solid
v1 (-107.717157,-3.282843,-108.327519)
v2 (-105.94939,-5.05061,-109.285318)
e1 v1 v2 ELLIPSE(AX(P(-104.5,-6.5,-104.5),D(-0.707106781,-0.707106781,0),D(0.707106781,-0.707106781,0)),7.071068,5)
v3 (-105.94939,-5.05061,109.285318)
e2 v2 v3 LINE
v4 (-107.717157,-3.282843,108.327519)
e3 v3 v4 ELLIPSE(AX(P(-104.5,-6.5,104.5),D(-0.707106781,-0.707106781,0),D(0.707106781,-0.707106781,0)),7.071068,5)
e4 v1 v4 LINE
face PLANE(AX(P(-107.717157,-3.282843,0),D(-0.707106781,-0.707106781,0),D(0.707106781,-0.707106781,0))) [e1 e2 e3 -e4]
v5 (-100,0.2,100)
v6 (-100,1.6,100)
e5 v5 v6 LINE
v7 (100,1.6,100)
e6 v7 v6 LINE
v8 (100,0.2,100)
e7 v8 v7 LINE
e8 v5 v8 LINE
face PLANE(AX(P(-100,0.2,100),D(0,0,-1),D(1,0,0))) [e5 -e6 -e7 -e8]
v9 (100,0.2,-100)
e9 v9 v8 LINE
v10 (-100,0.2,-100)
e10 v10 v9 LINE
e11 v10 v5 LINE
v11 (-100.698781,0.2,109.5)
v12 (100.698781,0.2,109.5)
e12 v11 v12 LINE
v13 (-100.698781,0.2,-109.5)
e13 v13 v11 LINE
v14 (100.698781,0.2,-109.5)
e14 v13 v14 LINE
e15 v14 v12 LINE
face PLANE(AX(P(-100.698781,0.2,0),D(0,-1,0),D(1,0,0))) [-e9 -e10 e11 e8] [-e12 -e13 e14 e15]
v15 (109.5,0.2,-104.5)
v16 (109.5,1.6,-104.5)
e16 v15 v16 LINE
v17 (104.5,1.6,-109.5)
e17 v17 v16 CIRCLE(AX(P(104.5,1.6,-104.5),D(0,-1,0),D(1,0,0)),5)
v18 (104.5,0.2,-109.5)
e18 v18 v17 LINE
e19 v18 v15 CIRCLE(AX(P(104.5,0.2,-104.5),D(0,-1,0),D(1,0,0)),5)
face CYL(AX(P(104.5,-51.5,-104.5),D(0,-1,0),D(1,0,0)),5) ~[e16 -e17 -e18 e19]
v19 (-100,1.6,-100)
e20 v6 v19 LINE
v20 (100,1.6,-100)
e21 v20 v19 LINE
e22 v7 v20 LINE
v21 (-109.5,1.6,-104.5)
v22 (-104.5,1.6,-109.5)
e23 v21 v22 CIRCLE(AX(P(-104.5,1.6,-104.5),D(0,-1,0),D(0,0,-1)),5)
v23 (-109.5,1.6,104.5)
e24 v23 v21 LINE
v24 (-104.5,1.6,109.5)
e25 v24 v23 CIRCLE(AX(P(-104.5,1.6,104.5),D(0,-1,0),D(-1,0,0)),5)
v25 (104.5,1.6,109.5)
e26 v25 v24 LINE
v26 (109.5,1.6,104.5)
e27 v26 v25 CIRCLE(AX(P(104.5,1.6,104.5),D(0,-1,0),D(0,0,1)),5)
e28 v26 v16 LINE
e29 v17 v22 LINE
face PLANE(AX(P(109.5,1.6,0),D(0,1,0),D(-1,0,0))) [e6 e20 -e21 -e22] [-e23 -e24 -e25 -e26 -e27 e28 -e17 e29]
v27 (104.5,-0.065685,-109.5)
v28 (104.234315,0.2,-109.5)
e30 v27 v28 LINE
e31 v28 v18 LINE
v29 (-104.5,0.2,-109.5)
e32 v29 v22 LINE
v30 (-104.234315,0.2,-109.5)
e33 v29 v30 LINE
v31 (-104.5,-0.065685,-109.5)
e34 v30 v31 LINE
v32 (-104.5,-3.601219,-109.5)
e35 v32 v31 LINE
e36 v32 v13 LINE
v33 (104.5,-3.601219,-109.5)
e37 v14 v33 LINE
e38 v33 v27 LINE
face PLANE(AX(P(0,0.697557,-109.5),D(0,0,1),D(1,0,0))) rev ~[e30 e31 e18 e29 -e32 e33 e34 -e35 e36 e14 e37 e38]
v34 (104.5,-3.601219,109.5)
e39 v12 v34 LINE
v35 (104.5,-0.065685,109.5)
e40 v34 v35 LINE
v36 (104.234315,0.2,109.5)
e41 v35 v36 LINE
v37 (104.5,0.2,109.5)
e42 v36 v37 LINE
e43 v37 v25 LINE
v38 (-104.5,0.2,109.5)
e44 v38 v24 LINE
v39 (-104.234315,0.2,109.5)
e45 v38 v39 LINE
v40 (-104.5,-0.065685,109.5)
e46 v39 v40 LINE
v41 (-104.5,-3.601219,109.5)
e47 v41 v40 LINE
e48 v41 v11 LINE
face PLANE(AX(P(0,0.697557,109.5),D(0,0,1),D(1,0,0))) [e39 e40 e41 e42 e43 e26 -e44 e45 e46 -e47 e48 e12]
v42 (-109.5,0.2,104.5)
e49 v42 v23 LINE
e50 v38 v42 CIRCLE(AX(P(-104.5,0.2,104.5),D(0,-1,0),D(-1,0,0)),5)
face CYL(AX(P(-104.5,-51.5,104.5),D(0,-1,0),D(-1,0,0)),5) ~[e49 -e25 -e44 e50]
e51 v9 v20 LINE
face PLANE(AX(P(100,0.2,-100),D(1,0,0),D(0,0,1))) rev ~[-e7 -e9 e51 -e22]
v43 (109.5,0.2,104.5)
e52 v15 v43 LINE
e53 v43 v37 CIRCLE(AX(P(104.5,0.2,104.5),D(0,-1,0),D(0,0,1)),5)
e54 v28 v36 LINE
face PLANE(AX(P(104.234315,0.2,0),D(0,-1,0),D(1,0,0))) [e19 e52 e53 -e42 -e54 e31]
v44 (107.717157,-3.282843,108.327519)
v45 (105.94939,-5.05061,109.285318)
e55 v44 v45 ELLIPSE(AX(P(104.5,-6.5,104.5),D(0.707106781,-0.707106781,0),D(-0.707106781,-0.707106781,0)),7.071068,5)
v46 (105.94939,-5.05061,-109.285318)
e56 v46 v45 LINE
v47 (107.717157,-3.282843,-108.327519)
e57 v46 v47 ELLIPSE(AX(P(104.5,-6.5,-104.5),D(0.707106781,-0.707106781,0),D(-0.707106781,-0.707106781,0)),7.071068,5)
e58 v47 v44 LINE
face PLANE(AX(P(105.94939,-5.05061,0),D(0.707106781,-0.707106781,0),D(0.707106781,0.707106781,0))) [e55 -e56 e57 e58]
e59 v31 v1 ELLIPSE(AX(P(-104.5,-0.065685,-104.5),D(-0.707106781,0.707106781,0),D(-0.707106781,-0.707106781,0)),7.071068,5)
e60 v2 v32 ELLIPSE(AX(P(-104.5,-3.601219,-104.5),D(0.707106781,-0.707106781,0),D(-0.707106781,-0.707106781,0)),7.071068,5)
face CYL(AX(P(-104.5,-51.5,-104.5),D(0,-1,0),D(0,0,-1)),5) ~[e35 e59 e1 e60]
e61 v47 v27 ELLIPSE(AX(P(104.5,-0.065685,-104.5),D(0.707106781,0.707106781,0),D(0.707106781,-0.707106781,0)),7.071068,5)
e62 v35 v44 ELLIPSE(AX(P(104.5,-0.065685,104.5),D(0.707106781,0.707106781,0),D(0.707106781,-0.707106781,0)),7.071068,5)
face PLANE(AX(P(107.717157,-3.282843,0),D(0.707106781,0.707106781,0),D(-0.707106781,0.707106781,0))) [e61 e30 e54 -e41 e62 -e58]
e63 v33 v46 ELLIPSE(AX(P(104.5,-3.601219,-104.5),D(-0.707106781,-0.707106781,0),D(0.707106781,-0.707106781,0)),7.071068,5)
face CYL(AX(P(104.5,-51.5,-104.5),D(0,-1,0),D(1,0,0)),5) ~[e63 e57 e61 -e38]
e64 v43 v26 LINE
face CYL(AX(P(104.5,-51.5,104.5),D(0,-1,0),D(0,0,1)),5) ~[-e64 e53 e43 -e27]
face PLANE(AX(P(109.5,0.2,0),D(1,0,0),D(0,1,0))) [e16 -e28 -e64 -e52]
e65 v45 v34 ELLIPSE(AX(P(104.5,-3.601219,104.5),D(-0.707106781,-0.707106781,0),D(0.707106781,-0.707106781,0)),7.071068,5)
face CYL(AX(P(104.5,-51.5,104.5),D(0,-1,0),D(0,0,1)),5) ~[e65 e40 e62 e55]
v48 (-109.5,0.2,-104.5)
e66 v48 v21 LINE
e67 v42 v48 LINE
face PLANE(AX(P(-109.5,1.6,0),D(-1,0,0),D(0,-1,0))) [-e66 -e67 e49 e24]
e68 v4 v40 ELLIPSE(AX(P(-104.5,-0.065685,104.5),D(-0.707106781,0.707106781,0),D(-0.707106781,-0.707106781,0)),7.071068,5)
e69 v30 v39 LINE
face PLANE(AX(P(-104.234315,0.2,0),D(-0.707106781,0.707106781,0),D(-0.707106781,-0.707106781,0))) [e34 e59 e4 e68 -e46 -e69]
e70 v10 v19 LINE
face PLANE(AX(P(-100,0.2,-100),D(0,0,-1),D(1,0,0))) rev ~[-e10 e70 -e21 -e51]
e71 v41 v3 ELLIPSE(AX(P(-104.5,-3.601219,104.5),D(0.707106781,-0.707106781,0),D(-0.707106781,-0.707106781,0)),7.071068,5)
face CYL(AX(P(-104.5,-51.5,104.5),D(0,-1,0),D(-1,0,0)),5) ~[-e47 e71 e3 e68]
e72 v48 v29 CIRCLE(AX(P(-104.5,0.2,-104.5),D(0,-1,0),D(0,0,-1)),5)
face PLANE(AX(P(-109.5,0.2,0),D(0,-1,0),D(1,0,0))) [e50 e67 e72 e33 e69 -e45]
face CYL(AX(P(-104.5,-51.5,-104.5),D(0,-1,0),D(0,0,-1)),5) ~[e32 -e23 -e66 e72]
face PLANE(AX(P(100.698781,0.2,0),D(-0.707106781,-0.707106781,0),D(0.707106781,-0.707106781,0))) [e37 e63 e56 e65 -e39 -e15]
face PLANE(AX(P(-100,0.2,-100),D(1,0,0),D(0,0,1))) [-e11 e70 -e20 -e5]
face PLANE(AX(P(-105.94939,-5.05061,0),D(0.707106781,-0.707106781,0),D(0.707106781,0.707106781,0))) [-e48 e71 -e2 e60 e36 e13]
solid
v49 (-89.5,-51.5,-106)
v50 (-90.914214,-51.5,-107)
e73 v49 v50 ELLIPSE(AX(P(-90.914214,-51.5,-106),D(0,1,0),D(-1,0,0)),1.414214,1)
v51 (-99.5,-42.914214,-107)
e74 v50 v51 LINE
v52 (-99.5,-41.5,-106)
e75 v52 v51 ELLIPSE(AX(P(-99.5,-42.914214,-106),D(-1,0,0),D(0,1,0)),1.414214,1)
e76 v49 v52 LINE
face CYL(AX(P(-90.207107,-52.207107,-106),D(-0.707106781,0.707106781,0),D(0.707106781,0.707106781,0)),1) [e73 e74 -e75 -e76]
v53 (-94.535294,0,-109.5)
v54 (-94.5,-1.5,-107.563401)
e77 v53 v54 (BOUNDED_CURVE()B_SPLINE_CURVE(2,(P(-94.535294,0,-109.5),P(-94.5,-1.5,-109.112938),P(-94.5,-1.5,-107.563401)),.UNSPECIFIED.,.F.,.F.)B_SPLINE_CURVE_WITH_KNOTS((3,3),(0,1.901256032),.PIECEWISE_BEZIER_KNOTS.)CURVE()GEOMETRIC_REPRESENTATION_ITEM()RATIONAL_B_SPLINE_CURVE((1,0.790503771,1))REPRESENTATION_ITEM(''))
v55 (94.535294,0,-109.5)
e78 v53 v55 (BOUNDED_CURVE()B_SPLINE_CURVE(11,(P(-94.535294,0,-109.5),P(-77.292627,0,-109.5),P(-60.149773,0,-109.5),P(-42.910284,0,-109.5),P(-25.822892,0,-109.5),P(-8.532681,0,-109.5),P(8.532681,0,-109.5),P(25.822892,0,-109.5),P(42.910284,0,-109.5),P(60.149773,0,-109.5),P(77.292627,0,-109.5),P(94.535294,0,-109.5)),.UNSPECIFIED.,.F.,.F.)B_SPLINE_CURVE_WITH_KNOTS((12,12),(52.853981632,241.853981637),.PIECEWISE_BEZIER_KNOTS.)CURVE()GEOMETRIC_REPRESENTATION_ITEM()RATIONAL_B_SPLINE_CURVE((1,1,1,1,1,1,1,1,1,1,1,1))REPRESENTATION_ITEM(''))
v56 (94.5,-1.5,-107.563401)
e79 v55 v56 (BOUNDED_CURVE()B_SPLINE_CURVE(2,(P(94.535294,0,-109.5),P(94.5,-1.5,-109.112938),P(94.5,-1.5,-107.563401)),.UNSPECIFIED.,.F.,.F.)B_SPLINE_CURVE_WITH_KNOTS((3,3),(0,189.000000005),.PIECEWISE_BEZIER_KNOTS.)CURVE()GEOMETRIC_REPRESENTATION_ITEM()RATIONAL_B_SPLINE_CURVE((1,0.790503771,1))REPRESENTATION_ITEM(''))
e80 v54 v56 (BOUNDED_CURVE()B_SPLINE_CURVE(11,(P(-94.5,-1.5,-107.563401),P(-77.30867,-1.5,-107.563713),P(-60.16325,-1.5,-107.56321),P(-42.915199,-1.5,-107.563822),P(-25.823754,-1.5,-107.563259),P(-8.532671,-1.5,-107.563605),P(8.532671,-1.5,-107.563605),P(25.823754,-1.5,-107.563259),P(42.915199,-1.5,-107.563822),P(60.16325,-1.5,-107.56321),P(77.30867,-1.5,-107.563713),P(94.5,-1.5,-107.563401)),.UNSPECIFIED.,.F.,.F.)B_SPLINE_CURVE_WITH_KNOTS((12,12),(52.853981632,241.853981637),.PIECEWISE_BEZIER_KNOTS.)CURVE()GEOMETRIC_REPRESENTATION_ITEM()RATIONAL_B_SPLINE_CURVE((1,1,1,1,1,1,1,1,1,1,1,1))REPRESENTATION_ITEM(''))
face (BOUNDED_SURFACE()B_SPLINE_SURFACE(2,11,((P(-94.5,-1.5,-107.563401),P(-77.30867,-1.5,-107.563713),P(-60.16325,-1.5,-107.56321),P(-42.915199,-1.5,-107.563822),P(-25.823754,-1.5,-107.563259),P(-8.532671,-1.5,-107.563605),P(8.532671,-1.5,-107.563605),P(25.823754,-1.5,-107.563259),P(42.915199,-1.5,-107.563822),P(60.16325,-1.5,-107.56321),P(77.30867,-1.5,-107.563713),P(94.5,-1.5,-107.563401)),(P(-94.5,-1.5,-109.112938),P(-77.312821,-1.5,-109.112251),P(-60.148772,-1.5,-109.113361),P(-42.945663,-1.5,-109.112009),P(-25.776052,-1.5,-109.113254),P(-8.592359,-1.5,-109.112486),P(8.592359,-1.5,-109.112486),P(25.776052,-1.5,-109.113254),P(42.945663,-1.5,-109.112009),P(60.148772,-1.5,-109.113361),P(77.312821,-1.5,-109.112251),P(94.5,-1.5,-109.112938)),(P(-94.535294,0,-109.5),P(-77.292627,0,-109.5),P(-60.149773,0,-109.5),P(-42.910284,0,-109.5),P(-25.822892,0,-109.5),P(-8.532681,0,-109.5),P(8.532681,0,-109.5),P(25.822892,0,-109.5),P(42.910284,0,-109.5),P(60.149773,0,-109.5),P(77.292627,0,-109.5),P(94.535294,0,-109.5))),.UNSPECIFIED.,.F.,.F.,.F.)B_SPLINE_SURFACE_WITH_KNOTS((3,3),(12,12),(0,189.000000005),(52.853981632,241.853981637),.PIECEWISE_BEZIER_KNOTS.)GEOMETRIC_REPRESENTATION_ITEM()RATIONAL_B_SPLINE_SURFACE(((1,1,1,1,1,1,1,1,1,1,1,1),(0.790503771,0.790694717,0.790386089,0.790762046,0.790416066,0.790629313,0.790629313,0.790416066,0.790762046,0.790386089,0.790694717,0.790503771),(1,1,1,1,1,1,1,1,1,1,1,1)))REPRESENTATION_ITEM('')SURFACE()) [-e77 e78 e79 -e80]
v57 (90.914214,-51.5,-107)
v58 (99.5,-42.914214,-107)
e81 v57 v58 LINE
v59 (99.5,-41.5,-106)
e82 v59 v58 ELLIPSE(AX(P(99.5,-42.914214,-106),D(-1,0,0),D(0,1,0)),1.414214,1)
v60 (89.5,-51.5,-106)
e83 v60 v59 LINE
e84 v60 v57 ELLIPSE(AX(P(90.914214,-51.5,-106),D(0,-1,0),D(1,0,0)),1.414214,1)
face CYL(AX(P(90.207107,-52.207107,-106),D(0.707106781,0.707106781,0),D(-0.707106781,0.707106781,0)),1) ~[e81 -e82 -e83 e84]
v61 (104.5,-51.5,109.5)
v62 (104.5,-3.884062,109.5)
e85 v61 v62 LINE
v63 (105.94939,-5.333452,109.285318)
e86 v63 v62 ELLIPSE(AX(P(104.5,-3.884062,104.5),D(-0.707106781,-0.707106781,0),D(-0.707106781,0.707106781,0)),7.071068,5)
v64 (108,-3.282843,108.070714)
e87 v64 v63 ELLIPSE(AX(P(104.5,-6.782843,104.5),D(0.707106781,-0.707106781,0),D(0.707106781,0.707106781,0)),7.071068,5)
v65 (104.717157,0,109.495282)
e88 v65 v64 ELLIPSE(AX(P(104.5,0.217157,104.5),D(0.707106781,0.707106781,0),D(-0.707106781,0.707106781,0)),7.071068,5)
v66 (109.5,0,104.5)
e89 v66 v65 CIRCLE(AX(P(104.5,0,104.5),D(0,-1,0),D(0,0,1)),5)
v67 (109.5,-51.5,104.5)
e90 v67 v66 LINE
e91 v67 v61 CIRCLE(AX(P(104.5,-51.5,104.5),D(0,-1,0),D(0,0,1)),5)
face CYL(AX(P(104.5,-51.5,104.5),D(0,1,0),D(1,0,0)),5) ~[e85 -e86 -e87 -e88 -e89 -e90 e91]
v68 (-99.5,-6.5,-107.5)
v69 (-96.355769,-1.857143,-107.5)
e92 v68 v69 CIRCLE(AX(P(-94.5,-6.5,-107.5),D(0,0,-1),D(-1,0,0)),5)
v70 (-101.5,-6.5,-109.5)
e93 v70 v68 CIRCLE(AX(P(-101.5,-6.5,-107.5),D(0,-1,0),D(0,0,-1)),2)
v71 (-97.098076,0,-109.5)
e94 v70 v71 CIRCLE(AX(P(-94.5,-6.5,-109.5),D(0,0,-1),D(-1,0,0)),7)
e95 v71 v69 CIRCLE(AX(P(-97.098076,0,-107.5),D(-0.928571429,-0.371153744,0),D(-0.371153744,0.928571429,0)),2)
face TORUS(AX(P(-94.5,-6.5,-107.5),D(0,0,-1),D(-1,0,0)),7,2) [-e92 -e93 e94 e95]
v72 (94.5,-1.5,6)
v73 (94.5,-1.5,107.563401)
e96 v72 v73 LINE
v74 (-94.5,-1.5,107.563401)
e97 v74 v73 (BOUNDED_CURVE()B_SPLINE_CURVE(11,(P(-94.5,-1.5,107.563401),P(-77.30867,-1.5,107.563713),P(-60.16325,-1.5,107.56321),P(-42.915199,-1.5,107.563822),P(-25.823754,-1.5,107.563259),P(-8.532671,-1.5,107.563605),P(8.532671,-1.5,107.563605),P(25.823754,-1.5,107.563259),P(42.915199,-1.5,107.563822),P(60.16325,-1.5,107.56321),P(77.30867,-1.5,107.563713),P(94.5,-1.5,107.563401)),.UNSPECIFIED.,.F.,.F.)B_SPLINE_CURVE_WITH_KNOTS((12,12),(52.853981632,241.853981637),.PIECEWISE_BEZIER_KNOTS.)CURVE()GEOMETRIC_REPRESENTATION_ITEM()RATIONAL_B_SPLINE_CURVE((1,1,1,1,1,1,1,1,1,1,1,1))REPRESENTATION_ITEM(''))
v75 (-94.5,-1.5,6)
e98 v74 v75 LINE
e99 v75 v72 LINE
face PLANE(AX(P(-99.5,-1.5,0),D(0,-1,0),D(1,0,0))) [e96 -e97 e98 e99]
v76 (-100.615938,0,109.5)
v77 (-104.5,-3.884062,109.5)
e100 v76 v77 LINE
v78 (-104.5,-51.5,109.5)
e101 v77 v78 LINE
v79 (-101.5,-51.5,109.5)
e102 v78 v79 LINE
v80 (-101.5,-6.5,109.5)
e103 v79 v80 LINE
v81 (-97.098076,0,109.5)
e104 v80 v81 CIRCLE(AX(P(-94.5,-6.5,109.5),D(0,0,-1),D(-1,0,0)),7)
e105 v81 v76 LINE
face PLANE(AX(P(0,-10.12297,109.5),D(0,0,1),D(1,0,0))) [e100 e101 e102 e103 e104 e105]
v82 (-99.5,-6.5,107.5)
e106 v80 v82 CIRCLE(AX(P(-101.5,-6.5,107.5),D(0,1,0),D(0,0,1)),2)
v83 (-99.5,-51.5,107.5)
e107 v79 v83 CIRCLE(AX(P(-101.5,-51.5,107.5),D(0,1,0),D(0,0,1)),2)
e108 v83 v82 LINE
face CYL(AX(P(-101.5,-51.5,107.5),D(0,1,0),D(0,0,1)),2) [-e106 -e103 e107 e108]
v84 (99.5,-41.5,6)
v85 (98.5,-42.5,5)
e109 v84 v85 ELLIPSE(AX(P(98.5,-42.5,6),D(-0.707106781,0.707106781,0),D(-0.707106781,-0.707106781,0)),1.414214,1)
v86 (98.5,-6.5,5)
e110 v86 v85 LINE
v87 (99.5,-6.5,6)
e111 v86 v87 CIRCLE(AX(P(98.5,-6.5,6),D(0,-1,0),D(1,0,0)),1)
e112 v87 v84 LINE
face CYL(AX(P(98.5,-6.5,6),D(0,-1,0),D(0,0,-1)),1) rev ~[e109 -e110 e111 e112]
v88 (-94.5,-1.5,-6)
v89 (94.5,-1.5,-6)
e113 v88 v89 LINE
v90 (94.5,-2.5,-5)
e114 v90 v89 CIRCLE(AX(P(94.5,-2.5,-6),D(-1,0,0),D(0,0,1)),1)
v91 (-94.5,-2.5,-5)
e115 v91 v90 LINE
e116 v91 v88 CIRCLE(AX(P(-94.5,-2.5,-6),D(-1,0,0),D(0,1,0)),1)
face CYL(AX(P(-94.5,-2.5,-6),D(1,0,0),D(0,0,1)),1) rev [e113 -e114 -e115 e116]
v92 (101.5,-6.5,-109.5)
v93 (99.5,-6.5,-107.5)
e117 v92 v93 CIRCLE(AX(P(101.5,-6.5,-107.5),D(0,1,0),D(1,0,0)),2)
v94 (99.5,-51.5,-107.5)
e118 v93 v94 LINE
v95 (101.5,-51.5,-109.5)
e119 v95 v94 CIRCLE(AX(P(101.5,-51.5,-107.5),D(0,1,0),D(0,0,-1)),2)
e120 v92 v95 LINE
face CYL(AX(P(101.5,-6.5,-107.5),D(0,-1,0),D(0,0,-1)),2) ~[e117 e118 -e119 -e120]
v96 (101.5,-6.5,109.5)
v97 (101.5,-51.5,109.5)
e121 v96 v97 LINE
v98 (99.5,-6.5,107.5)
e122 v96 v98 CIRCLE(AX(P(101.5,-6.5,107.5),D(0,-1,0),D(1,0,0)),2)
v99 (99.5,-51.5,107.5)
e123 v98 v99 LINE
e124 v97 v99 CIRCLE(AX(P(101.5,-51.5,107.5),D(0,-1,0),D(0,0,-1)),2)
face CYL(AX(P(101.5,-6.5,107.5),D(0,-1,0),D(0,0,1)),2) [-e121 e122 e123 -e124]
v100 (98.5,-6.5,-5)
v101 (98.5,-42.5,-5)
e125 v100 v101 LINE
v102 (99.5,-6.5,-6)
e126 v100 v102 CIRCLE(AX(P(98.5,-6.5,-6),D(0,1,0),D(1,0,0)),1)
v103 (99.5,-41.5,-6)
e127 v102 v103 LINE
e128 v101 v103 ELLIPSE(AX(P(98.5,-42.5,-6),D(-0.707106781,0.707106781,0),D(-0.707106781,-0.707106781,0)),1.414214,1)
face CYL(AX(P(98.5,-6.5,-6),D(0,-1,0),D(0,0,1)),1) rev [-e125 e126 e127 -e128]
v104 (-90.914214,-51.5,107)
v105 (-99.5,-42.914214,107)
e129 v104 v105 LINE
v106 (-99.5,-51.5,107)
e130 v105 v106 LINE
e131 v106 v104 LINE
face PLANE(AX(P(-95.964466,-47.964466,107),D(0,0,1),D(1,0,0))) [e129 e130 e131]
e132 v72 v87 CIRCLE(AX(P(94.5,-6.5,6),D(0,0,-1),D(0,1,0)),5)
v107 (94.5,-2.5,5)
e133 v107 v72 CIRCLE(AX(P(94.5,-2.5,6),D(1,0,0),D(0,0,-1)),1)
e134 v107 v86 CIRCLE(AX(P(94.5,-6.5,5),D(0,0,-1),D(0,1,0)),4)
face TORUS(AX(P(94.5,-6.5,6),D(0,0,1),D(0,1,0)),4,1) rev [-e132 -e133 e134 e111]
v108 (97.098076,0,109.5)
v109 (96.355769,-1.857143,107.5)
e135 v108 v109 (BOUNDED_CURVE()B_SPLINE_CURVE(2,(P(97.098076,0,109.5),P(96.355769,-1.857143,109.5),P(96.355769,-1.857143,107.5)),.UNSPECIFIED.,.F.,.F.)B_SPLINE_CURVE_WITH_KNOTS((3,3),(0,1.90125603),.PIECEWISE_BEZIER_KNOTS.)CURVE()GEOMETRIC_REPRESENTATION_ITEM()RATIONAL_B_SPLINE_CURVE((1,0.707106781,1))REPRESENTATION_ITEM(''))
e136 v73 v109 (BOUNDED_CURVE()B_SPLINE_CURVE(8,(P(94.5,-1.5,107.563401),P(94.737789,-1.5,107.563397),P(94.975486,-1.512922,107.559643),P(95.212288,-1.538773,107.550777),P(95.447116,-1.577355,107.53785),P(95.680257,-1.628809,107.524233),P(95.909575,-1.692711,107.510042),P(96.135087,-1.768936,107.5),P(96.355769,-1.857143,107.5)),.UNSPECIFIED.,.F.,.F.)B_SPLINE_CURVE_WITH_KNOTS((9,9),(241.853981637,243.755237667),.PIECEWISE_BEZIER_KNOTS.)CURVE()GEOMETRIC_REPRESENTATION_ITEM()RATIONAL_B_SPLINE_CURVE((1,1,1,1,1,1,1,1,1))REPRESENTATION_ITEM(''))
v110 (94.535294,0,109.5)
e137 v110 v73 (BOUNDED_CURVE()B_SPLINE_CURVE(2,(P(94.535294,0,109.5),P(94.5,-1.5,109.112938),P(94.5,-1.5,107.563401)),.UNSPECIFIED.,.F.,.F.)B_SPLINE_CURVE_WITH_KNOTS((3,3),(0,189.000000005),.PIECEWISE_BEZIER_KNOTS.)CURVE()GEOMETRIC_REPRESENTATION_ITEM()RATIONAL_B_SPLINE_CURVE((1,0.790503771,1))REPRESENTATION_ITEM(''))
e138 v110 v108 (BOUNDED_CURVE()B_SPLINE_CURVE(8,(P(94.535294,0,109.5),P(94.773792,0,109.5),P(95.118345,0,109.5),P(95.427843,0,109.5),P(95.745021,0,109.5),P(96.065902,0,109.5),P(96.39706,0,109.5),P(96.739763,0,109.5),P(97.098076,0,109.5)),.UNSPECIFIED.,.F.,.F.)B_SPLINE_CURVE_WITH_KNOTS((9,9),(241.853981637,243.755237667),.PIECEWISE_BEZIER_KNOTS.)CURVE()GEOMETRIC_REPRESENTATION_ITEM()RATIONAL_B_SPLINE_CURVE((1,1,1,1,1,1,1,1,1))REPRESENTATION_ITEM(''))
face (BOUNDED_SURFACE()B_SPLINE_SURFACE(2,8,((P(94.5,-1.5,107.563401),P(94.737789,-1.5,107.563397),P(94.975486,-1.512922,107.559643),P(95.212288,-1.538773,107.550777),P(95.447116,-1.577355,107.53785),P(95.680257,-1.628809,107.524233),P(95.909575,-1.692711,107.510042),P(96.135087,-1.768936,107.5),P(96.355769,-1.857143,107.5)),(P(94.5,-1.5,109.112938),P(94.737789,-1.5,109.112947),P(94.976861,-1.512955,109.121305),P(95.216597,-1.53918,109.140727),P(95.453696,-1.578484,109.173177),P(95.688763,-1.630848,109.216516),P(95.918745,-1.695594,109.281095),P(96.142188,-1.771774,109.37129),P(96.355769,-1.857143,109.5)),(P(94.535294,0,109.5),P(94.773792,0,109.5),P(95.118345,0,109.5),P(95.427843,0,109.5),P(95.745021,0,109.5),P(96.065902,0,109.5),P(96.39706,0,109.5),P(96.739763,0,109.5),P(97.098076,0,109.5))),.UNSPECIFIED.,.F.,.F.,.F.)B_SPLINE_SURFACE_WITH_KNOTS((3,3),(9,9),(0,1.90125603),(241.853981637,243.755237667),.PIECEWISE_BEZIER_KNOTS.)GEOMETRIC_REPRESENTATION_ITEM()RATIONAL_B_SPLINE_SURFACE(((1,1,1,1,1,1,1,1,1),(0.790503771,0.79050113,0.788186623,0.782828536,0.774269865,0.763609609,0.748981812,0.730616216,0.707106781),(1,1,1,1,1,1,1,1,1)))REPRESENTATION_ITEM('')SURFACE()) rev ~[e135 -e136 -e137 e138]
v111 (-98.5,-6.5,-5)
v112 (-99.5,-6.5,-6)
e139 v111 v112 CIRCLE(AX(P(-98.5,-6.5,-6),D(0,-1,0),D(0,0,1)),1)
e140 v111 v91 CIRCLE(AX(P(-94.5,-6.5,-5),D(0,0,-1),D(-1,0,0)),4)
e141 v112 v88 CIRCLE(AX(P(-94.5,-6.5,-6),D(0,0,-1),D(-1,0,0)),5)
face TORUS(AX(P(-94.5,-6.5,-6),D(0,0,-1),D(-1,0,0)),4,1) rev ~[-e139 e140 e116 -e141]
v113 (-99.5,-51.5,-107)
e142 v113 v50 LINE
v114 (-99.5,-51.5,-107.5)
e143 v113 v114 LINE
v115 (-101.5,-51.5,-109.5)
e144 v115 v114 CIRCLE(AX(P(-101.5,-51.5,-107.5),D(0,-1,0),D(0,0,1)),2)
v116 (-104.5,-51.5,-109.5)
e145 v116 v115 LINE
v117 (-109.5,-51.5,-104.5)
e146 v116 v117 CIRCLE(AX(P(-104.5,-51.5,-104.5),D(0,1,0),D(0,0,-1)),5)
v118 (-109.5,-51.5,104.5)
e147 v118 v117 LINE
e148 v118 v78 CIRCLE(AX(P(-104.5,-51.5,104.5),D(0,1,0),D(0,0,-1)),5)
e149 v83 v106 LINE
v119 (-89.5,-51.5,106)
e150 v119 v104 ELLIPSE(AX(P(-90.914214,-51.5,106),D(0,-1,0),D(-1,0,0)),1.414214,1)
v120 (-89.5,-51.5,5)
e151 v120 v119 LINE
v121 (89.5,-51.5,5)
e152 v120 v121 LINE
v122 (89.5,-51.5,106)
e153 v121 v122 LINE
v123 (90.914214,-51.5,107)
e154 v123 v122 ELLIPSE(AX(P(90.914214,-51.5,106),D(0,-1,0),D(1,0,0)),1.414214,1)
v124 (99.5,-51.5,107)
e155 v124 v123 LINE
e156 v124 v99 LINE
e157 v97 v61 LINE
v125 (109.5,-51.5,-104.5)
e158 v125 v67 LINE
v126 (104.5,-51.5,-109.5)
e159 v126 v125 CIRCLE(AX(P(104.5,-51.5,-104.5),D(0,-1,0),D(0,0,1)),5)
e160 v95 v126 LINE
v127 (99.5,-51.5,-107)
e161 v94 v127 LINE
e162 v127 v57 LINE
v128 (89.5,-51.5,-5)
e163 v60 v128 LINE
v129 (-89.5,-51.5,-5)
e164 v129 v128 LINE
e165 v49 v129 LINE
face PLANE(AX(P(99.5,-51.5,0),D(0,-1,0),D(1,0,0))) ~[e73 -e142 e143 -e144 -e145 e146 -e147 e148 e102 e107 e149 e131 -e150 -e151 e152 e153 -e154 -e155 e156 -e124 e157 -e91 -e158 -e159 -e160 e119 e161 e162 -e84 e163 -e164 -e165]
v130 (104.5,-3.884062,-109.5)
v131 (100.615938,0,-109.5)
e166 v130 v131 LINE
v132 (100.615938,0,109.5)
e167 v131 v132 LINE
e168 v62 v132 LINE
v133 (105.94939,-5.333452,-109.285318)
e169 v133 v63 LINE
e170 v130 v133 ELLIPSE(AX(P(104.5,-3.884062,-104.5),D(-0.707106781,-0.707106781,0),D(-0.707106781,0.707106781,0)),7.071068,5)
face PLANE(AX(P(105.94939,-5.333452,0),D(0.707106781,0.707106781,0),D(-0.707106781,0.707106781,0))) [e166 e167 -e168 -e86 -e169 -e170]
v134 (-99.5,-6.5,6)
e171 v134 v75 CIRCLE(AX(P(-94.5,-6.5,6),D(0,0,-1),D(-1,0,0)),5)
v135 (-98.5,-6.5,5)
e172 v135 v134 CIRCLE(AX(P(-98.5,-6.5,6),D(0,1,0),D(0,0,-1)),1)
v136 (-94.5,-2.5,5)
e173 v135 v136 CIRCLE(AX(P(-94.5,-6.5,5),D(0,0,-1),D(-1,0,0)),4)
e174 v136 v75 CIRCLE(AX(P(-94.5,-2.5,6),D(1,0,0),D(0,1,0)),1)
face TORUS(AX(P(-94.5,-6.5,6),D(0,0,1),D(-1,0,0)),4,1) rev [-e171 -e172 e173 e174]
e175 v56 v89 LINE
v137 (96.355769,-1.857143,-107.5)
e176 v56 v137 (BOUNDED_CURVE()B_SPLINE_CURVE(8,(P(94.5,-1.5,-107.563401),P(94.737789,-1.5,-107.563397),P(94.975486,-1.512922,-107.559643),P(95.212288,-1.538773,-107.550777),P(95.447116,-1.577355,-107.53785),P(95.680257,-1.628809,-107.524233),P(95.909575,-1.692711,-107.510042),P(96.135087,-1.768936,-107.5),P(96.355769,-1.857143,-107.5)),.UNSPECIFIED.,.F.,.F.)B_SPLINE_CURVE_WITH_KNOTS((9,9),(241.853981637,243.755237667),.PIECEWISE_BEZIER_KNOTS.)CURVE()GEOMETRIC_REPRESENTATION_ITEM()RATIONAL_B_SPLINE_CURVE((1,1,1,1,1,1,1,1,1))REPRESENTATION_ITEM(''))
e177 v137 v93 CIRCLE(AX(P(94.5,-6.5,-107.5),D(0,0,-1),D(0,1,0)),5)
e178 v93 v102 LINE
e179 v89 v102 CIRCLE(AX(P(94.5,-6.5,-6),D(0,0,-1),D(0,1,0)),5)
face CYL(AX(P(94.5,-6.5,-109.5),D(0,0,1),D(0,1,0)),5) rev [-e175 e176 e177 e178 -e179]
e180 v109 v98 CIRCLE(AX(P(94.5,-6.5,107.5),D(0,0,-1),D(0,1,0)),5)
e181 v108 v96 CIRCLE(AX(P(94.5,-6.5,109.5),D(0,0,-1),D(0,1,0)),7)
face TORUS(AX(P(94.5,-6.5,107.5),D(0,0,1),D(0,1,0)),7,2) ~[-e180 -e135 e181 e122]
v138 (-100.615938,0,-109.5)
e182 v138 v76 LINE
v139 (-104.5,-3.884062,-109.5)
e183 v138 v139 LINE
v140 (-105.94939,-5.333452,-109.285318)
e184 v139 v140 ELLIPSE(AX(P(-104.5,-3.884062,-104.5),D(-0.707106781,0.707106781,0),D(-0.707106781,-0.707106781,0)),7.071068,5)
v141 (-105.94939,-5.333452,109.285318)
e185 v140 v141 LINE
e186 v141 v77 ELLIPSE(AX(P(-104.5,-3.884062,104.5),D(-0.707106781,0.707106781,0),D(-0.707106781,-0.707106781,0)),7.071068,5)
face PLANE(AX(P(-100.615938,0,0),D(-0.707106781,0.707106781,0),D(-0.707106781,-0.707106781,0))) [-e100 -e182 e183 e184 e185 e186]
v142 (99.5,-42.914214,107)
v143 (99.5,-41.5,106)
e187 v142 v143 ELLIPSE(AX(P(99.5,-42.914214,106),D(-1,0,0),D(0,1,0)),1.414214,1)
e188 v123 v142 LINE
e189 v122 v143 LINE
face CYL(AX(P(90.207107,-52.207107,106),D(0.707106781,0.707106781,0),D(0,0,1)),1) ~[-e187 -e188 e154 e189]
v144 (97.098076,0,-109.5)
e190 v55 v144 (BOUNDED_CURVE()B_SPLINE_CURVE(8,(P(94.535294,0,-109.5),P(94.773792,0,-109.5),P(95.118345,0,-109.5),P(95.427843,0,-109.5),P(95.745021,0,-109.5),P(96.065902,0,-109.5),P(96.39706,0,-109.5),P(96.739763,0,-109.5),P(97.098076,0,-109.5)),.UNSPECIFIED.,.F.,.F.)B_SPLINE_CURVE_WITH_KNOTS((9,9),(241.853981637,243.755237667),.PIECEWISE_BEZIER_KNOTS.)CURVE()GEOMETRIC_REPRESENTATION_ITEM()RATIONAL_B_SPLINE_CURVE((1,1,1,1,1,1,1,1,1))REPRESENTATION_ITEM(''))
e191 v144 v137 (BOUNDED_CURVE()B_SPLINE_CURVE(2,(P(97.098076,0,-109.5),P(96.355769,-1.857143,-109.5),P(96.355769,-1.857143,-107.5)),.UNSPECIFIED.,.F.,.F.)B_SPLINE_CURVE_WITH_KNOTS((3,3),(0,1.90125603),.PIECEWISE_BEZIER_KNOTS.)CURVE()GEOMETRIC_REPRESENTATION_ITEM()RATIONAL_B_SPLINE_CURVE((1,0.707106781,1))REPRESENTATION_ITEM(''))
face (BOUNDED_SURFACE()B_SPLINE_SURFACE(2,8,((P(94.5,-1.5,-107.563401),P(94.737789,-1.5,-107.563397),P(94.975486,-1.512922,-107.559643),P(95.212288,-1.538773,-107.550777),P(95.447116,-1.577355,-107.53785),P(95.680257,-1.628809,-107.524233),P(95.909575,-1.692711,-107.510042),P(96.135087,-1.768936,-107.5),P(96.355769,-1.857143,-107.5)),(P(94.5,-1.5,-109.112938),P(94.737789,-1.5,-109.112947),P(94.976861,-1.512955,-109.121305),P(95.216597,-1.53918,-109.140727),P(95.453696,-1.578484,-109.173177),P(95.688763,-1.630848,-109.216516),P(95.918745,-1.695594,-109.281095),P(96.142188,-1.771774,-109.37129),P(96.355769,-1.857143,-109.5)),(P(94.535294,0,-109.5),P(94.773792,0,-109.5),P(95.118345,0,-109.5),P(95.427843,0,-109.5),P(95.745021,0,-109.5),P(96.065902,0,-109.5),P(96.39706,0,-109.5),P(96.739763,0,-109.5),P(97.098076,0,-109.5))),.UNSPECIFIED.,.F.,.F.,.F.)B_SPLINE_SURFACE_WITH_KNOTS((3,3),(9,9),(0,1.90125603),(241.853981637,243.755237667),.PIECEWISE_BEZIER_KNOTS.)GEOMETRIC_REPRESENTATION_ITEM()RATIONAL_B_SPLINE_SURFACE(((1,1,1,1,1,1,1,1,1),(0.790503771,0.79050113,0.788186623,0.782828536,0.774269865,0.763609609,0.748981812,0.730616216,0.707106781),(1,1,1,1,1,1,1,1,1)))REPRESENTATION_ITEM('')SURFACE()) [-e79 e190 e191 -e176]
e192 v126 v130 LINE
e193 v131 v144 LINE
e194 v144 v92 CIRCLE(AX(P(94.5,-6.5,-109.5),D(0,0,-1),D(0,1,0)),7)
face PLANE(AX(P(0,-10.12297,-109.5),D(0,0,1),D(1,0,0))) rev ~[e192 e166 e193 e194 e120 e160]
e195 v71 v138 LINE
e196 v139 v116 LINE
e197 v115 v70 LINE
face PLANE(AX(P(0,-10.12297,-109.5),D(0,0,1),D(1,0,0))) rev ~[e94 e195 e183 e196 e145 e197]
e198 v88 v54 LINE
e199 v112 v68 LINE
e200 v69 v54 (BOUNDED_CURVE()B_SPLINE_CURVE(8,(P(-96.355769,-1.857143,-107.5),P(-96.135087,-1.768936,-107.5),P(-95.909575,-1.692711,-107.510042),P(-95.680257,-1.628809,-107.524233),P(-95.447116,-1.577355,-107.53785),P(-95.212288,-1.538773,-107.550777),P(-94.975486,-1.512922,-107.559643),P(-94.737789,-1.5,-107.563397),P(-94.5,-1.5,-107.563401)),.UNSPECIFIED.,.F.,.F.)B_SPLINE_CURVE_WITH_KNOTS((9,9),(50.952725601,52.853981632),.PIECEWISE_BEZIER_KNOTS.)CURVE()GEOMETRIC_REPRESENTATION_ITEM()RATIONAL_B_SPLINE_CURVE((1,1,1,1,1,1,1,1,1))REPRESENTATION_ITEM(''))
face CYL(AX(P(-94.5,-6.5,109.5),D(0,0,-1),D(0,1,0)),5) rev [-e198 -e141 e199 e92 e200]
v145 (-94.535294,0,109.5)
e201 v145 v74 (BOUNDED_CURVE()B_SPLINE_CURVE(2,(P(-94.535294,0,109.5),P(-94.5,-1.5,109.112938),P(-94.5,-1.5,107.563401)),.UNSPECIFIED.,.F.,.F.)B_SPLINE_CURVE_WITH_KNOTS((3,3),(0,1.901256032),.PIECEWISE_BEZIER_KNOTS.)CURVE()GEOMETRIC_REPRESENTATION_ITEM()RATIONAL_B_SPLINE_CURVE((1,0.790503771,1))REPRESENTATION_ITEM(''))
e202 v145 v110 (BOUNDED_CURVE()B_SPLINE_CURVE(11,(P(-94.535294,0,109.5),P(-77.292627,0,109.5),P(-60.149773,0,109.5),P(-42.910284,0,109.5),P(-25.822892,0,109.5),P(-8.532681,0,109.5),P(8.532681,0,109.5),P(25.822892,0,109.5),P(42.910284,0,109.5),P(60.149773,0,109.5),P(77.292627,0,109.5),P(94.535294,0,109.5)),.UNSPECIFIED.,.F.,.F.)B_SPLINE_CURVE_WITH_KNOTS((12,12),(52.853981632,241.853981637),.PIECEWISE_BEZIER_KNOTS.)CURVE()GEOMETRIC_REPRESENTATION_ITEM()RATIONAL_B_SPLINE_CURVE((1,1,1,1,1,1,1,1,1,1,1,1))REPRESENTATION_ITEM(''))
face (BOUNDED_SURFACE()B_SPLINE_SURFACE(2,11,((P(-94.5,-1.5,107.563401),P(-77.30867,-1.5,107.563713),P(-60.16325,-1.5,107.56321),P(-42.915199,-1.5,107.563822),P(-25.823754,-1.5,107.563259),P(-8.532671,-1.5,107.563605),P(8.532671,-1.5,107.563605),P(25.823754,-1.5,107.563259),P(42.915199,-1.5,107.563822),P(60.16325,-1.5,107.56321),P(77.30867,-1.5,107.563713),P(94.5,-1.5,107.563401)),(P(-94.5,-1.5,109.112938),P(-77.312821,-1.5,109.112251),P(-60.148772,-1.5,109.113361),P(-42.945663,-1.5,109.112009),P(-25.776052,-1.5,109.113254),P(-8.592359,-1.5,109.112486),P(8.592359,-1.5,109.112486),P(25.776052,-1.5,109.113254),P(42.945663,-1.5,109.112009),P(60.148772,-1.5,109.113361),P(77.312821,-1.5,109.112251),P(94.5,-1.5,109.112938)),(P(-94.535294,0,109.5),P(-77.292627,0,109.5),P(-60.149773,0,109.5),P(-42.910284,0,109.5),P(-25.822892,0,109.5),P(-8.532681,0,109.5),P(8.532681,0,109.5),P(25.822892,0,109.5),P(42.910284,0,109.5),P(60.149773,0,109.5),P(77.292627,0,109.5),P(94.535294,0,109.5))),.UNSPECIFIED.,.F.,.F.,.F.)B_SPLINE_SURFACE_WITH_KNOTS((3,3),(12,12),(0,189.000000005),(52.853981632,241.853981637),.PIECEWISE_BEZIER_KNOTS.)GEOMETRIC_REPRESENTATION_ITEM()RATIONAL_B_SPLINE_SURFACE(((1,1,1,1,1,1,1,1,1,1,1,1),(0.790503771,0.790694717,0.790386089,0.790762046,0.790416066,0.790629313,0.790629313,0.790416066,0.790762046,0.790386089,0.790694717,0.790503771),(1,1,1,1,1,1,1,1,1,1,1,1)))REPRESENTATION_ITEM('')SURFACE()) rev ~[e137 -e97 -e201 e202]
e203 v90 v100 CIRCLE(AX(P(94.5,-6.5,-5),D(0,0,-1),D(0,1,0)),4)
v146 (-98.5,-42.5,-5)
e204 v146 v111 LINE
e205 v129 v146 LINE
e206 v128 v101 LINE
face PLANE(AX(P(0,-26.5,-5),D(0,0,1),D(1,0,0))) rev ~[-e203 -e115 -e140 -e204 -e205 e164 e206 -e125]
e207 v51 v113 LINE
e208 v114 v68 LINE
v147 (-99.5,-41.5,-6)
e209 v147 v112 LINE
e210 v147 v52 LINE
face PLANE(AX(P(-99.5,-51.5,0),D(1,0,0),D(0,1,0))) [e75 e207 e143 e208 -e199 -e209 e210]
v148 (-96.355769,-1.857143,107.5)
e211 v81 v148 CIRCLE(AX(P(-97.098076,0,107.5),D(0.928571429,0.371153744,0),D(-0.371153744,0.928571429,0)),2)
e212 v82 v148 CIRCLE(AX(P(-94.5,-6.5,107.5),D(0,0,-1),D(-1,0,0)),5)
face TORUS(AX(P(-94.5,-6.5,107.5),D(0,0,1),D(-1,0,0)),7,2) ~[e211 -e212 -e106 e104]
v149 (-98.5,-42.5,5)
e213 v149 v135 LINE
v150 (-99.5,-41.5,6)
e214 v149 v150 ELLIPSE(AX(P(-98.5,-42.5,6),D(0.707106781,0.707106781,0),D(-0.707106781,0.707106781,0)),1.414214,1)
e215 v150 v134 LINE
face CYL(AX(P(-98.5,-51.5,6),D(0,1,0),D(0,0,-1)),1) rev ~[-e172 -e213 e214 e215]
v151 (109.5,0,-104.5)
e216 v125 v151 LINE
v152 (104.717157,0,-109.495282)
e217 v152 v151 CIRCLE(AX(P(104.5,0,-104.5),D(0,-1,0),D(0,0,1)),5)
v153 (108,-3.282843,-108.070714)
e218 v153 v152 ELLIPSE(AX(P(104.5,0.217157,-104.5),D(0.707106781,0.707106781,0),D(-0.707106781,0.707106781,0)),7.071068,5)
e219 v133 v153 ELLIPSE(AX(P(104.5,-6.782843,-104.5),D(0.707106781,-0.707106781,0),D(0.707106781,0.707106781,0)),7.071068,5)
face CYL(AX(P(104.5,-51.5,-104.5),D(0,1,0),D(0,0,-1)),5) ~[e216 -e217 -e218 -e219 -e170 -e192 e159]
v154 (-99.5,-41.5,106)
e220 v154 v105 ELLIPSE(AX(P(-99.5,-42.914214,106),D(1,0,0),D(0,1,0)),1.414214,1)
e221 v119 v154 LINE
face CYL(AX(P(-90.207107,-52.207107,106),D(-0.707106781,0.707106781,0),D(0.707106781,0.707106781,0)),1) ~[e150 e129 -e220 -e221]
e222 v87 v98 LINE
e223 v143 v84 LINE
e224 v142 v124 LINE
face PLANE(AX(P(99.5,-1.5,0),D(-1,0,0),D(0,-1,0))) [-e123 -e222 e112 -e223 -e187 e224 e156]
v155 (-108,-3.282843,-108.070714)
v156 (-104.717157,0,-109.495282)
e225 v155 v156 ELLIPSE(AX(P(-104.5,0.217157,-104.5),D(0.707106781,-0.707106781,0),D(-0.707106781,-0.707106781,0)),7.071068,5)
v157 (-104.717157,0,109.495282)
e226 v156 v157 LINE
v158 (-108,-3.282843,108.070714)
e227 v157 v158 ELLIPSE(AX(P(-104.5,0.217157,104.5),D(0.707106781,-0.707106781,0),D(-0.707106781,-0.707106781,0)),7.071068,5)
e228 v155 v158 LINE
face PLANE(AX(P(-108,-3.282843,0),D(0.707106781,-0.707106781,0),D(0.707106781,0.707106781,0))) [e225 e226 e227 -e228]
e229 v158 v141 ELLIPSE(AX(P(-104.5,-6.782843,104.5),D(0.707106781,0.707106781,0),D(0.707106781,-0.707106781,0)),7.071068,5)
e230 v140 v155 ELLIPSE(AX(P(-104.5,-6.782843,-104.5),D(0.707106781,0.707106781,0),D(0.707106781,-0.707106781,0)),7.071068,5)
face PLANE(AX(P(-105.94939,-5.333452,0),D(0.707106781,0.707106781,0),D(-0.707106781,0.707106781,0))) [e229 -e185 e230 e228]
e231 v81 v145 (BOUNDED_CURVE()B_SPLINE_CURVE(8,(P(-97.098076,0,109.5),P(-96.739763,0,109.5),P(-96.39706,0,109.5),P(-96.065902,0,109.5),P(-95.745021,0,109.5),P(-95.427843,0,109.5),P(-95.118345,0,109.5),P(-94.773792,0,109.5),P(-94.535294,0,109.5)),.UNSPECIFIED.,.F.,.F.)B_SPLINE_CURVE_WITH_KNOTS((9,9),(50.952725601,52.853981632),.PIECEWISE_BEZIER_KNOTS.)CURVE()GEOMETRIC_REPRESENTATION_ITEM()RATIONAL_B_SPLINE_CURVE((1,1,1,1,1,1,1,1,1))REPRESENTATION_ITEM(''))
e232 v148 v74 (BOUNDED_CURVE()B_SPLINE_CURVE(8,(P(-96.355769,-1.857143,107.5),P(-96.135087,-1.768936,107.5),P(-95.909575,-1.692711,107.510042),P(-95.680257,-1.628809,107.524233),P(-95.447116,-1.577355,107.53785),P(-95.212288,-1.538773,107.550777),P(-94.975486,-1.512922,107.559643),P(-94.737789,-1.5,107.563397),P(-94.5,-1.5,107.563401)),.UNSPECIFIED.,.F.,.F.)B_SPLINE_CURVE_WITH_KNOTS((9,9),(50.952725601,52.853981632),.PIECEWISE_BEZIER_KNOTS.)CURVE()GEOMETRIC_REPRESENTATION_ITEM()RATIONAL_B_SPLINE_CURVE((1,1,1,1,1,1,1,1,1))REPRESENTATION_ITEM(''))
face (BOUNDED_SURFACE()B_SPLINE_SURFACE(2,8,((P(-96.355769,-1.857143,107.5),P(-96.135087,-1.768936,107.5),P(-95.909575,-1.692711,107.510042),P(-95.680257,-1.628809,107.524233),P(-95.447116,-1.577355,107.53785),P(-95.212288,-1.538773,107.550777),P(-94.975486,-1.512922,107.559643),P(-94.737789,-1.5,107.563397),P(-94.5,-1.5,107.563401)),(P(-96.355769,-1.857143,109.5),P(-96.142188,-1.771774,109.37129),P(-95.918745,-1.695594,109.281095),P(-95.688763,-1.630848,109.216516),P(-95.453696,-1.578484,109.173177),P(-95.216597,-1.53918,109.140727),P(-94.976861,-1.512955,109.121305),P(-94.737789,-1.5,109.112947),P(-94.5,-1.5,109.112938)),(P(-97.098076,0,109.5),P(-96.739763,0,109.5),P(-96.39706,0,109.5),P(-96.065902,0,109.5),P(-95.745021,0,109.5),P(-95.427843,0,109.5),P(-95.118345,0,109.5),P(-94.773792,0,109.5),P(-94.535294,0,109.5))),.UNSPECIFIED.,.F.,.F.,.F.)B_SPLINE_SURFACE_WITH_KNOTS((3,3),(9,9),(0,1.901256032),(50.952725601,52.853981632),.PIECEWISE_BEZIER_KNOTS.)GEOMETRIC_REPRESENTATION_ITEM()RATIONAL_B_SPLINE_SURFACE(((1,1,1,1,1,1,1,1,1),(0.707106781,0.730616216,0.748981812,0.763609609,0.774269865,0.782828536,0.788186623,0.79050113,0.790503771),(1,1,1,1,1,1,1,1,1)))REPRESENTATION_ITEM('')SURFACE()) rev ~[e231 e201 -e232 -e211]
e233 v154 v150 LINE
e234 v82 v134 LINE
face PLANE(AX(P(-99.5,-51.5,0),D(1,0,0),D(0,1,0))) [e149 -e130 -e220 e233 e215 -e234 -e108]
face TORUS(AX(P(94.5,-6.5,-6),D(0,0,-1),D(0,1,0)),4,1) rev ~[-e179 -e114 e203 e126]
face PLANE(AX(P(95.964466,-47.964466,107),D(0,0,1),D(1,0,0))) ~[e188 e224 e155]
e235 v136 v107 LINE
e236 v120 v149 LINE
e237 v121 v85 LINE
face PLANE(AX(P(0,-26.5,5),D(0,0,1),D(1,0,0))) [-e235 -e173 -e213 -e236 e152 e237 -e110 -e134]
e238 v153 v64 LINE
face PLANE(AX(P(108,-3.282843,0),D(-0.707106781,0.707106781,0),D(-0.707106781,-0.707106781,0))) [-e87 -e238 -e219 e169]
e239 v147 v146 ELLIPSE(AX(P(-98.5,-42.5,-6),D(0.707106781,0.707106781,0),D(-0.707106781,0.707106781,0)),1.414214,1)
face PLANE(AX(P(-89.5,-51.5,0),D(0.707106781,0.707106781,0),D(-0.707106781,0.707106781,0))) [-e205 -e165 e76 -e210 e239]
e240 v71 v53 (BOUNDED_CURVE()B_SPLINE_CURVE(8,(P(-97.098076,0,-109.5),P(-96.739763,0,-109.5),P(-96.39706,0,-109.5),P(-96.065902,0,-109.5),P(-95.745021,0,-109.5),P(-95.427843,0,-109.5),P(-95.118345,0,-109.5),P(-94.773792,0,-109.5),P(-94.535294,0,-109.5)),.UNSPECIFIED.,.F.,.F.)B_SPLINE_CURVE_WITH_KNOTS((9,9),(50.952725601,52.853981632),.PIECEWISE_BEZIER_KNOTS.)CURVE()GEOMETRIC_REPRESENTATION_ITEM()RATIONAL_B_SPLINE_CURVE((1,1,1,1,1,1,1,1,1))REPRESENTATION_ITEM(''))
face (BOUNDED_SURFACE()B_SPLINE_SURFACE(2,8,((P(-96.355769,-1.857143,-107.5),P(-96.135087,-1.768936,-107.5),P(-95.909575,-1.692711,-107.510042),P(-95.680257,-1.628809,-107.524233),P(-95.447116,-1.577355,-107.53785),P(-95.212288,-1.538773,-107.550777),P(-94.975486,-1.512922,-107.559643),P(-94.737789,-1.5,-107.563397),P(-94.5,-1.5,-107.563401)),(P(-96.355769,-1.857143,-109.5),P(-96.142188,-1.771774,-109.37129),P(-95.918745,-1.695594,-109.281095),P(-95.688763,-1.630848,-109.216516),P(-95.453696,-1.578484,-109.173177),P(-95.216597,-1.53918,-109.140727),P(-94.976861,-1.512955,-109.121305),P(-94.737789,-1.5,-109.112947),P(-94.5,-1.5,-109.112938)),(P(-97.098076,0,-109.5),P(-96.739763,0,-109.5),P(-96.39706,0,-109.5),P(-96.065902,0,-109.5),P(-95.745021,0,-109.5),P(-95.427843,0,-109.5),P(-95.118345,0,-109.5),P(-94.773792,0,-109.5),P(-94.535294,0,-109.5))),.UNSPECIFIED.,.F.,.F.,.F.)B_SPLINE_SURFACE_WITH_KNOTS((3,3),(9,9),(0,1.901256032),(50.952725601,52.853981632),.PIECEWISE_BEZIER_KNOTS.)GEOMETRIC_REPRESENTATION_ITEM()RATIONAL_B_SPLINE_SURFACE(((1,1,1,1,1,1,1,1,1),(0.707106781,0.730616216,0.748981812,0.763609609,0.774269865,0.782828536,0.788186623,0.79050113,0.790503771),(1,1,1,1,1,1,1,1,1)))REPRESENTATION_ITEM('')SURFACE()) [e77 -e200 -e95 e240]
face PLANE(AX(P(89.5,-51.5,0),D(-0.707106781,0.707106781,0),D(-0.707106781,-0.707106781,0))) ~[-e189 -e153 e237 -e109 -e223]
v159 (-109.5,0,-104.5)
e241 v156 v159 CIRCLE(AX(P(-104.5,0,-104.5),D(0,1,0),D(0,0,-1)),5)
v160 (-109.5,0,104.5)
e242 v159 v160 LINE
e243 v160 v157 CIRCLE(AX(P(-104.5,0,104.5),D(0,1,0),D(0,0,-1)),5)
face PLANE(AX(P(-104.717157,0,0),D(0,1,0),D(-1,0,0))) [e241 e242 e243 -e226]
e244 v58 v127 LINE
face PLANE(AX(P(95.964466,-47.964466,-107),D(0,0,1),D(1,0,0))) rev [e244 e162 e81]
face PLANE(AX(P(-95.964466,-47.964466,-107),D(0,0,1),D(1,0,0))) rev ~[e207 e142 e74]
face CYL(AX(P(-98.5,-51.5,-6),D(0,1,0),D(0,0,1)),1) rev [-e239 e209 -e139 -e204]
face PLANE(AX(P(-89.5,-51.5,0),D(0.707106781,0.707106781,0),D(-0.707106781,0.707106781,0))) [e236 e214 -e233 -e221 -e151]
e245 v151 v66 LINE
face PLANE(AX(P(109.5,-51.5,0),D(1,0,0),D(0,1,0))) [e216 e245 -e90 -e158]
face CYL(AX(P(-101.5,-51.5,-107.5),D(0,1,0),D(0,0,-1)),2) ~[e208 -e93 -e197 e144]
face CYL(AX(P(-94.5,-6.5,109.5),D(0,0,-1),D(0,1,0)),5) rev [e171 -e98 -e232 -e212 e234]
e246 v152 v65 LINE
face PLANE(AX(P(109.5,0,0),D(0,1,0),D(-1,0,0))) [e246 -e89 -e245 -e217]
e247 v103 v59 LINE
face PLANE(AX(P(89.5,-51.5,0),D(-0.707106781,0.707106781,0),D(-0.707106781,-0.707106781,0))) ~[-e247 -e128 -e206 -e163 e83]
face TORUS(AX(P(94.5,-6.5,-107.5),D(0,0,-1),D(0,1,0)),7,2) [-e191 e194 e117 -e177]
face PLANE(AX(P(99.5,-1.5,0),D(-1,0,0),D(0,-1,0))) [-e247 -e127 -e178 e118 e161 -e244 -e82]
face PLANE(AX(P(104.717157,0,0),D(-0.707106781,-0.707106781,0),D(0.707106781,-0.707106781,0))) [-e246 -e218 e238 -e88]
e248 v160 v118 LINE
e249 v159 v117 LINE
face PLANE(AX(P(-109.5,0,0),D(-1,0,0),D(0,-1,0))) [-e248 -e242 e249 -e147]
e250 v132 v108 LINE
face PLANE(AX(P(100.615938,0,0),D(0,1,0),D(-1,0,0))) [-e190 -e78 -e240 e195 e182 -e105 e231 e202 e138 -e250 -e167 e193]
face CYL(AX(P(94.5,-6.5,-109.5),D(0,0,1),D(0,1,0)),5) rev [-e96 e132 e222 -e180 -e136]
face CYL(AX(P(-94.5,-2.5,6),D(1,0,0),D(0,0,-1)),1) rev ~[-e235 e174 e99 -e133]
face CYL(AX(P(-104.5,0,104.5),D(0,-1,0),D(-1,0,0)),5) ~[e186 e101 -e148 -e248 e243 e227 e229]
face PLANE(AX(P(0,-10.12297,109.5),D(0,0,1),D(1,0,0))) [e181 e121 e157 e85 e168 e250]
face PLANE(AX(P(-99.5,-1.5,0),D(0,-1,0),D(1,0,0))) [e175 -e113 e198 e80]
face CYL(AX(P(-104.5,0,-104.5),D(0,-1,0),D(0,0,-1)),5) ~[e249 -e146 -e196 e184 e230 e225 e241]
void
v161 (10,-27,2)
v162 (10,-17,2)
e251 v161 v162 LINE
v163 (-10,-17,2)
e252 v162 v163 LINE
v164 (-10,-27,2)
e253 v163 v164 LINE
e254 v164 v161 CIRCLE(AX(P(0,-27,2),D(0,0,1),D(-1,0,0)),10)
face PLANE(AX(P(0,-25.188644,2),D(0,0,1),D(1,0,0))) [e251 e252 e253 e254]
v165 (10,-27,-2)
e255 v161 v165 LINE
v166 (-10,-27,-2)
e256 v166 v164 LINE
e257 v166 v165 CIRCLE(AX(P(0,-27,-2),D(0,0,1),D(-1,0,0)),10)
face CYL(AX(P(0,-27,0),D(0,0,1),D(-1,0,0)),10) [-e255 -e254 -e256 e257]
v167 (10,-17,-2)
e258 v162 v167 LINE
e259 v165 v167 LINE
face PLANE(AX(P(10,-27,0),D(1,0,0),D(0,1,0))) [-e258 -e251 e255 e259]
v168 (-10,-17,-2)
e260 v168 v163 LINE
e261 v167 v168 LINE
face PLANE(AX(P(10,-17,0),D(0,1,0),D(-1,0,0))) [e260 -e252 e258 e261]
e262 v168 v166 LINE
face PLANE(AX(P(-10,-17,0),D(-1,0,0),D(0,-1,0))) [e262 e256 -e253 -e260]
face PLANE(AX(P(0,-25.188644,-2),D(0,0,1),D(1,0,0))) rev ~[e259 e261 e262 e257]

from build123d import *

# Parameters (mm, degrees)
BOSS_EXTRUDE1_DEPTH  = 109.5
BOSS_EXTRUDE2_DEPTH  = 109.5
SKETCH2_W            = 200
SKETCH2_H            = 200
CUT_EXTRUDE1_DEPTH   = 164.258659801
FILLET1_R            = 5
SKETCH3_W            = 199
SKETCH3_H            = 50
BOSS_EXTRUDE3_DEPTH  = 5
FILLET2_R            = 5
SKETCH9_W            = 379
SKETCH9_H            = 379
CUT_EXTRUDE3_DEPTH   = 164.707391403
FILLET4_R            = 2
FILLET5_R            = 1
BOSS_EXTRUDE6_DEPTH  = 107
FILLET6_R            = 1
FILLET6_OF_MIRROR1_R = 1
CUT_EXTRUDE4_DEPTH   = 2


with BuildPart() as part:
    # Sketch1 → Boss-Extrude1 (new, symmetric)
    with BuildSketch(Plane.XY):
        Polygon((-99.5, -1.5), (99.5, -1.5), (99.5, -51.5), (109.5, -51.5), (109.5, 0), (104.717157288, 0), (108, -3.282842712), (105.949390335, -5.333452378), (100.615937957, 0), (-100.615937957, 0), (-105.949390335, -5.333452378), (-108, -3.282842712), (-104.717157288, 0), (-109.5, 0), (-109.5, -51.5), (-99.5, -51.5), align=None)
    extrude(amount=BOSS_EXTRUDE1_DEPTH, both=True)

    # Fillet1
    fillet1_edges = [part.edges().sort_by_distance(p)[0] for p in [
        (99.5, -1.5, 0),
        (-99.5, -1.5, 0),
    ]]
    fillet(fillet1_edges, radius=FILLET1_R)

    # Sketch3 → Boss-Extrude3 (add, symmetric)
    with BuildSketch(Plane.XY):
        with Locations((0, -26.5)):
            Rectangle(SKETCH3_W, SKETCH3_H)
    extrude(amount=BOSS_EXTRUDE3_DEPTH, both=True)

    # Fillet2
    fillet2_edges = [part.edges().sort_by_distance(p)[0] for p in [
        (-109.5, -25.75, 109.5),
        (-109.5, -25.75, -109.5),
        (109.5, -25.75, -109.5),
        (109.5, -25.75, 109.5),
    ]]
    fillet(fillet2_edges, radius=FILLET2_R)

    # Fillet4
    fillet4_edges = [part.edges().sort_by_distance(p)[0] for p in [
        (-99.5, -29, 109.5),
        (-98.035533906, -2.964466094, 109.5),
        (99.5, -29, 109.5),
        (98.035533906, -2.964466094, 109.5),
        (-99.5, -29, -109.5),
        (-98.035533906, -2.964466094, -109.5),
        (99.5, -29, -109.5),
        (98.035533906, -2.964466094, -109.5),
        (0, -1.5, 109.5),
        (0, -1.5, -109.5),
    ]]
    fillet(fillet4_edges, radius=FILLET4_R)

    # Fillet5
    fillet5_edges = [part.edges().sort_by_distance(p)[0] for p in [
        (-99.5, -29, -5),
        (-98.035533906, -2.964466094, -5),
        (0, -1.5, -5),
        (98.035533906, -2.964466094, -5),
        (-99.5, -29, 5),
        (-98.035533906, -2.964466094, 5),
        (0, -1.5, 5),
        (98.035533906, -2.964466094, 5),
        (99.5, -29, -5),
        (99.5, -29, 5),
    ]]
    fillet(fillet5_edges, radius=FILLET5_R)

    # Sketch6 → Boss-Extrude6 (add, symmetric)
    with BuildSketch(Plane.XY):
        Polygon((-99.5, -51.5), (-89.5, -51.5), (-99.5, -41.5), align=None)
    boss_extrude6 = extrude(amount=BOSS_EXTRUDE6_DEPTH, both=True)

    # Fillet6
    fillet6_edges = [part.edges().sort_by_distance(p)[0] for p in [
        (-94.5, -46.5, 107),
        (-94.5, -46.5, -107),
    ]]
    fillet(fillet6_edges, radius=FILLET6_R)

    # Mirror1: Boss-Extrude6 across plane
    add(boss_extrude6.mirror(Plane(origin=(0, 0, 0), x_dir=(0, 0, 1), z_dir=(1, 0, 0))))

    # Fillet6 of Mirror1
    fillet6_of_mirror1_edges = [part.edges().sort_by_distance(p)[0] for p in [
        (94.5, -46.5, 107),
        (94.5, -46.5, -107),
    ]]
    fillet(fillet6_of_mirror1_edges, radius=FILLET6_OF_MIRROR1_R)

    # Sketch10 → Cut-Extrude4 (cut, symmetric)
    with BuildSketch(Plane.XY):
        with BuildLine():
            Line((10, -17), (-10, -17))
            Line((-10, -17), (-10, -27))
            ThreePointArc((-10, -27), (0, -37), (10, -27))
            Line((10, -27), (10, -17))
        make_face()
    extrude(amount=CUT_EXTRUDE4_DEPTH, both=True, mode=Mode.SUBTRACT)


with BuildPart() as body_2:
    # Sketch1<4> → Boss-Extrude2 (new, symmetric)
    with BuildSketch(Plane.XY):
        Polygon((-109.5, 0.2), (-104.234314575, 0.2), (-107.717157288, -3.282842712), (-105.949390335, -5.050609665), (-100.698780669, 0.2), (100.698780669, 0.2), (105.949390335, -5.050609665), (107.717157288, -3.282842712), (104.234314575, 0.2), (109.5, 0.2), (109.5, 1.6), (-109.5, 1.6), align=None)
    extrude(amount=BOSS_EXTRUDE2_DEPTH, both=True)

    # Sketch2 → Cut-Extrude1 (cut, through all)
    with BuildSketch(Plane.XZ.offset(-0.2)):
        Rectangle(SKETCH2_W, SKETCH2_H)
    extrude(amount=-CUT_EXTRUDE1_DEPTH, mode=Mode.SUBTRACT)

    # Sketch9 → Cut-Extrude3 (cut, through all)
    with BuildSketch(Plane.XZ.offset(51.5)):
        Rectangle(SKETCH9_W, SKETCH9_H)
        with BuildLine():
            ThreePointArc((109.5, -104.5), (108.035533906, -108.035533906), (104.5, -109.5))
            Line((104.5, -109.5), (99.5, -109.5))
            Line((99.5, -109.5), (-99.5, -109.5))
            Line((-99.5, -109.5), (-104.5, -109.5))
            ThreePointArc((-104.5, -109.5), (-108.035533906, -108.035533906), (-109.5, -104.5))
            Line((-109.5, -104.5), (-109.5, 104.5))
            ThreePointArc((-109.5, 104.5), (-108.035533906, 108.035533906), (-104.5, 109.5))
            Line((-104.5, 109.5), (-99.5, 109.5))
            Line((-99.5, 109.5), (99.5, 109.5))
            Line((99.5, 109.5), (104.5, 109.5))
            ThreePointArc((104.5, 109.5), (108.035533906, 108.035533906), (109.5, 104.5))
            Line((109.5, 104.5), (109.5, -104.5))
        make_face(mode=Mode.SUBTRACT)
    extrude(amount=-CUT_EXTRUDE3_DEPTH, mode=Mode.SUBTRACT)


solid = Compound([part.part, body_2.part])
